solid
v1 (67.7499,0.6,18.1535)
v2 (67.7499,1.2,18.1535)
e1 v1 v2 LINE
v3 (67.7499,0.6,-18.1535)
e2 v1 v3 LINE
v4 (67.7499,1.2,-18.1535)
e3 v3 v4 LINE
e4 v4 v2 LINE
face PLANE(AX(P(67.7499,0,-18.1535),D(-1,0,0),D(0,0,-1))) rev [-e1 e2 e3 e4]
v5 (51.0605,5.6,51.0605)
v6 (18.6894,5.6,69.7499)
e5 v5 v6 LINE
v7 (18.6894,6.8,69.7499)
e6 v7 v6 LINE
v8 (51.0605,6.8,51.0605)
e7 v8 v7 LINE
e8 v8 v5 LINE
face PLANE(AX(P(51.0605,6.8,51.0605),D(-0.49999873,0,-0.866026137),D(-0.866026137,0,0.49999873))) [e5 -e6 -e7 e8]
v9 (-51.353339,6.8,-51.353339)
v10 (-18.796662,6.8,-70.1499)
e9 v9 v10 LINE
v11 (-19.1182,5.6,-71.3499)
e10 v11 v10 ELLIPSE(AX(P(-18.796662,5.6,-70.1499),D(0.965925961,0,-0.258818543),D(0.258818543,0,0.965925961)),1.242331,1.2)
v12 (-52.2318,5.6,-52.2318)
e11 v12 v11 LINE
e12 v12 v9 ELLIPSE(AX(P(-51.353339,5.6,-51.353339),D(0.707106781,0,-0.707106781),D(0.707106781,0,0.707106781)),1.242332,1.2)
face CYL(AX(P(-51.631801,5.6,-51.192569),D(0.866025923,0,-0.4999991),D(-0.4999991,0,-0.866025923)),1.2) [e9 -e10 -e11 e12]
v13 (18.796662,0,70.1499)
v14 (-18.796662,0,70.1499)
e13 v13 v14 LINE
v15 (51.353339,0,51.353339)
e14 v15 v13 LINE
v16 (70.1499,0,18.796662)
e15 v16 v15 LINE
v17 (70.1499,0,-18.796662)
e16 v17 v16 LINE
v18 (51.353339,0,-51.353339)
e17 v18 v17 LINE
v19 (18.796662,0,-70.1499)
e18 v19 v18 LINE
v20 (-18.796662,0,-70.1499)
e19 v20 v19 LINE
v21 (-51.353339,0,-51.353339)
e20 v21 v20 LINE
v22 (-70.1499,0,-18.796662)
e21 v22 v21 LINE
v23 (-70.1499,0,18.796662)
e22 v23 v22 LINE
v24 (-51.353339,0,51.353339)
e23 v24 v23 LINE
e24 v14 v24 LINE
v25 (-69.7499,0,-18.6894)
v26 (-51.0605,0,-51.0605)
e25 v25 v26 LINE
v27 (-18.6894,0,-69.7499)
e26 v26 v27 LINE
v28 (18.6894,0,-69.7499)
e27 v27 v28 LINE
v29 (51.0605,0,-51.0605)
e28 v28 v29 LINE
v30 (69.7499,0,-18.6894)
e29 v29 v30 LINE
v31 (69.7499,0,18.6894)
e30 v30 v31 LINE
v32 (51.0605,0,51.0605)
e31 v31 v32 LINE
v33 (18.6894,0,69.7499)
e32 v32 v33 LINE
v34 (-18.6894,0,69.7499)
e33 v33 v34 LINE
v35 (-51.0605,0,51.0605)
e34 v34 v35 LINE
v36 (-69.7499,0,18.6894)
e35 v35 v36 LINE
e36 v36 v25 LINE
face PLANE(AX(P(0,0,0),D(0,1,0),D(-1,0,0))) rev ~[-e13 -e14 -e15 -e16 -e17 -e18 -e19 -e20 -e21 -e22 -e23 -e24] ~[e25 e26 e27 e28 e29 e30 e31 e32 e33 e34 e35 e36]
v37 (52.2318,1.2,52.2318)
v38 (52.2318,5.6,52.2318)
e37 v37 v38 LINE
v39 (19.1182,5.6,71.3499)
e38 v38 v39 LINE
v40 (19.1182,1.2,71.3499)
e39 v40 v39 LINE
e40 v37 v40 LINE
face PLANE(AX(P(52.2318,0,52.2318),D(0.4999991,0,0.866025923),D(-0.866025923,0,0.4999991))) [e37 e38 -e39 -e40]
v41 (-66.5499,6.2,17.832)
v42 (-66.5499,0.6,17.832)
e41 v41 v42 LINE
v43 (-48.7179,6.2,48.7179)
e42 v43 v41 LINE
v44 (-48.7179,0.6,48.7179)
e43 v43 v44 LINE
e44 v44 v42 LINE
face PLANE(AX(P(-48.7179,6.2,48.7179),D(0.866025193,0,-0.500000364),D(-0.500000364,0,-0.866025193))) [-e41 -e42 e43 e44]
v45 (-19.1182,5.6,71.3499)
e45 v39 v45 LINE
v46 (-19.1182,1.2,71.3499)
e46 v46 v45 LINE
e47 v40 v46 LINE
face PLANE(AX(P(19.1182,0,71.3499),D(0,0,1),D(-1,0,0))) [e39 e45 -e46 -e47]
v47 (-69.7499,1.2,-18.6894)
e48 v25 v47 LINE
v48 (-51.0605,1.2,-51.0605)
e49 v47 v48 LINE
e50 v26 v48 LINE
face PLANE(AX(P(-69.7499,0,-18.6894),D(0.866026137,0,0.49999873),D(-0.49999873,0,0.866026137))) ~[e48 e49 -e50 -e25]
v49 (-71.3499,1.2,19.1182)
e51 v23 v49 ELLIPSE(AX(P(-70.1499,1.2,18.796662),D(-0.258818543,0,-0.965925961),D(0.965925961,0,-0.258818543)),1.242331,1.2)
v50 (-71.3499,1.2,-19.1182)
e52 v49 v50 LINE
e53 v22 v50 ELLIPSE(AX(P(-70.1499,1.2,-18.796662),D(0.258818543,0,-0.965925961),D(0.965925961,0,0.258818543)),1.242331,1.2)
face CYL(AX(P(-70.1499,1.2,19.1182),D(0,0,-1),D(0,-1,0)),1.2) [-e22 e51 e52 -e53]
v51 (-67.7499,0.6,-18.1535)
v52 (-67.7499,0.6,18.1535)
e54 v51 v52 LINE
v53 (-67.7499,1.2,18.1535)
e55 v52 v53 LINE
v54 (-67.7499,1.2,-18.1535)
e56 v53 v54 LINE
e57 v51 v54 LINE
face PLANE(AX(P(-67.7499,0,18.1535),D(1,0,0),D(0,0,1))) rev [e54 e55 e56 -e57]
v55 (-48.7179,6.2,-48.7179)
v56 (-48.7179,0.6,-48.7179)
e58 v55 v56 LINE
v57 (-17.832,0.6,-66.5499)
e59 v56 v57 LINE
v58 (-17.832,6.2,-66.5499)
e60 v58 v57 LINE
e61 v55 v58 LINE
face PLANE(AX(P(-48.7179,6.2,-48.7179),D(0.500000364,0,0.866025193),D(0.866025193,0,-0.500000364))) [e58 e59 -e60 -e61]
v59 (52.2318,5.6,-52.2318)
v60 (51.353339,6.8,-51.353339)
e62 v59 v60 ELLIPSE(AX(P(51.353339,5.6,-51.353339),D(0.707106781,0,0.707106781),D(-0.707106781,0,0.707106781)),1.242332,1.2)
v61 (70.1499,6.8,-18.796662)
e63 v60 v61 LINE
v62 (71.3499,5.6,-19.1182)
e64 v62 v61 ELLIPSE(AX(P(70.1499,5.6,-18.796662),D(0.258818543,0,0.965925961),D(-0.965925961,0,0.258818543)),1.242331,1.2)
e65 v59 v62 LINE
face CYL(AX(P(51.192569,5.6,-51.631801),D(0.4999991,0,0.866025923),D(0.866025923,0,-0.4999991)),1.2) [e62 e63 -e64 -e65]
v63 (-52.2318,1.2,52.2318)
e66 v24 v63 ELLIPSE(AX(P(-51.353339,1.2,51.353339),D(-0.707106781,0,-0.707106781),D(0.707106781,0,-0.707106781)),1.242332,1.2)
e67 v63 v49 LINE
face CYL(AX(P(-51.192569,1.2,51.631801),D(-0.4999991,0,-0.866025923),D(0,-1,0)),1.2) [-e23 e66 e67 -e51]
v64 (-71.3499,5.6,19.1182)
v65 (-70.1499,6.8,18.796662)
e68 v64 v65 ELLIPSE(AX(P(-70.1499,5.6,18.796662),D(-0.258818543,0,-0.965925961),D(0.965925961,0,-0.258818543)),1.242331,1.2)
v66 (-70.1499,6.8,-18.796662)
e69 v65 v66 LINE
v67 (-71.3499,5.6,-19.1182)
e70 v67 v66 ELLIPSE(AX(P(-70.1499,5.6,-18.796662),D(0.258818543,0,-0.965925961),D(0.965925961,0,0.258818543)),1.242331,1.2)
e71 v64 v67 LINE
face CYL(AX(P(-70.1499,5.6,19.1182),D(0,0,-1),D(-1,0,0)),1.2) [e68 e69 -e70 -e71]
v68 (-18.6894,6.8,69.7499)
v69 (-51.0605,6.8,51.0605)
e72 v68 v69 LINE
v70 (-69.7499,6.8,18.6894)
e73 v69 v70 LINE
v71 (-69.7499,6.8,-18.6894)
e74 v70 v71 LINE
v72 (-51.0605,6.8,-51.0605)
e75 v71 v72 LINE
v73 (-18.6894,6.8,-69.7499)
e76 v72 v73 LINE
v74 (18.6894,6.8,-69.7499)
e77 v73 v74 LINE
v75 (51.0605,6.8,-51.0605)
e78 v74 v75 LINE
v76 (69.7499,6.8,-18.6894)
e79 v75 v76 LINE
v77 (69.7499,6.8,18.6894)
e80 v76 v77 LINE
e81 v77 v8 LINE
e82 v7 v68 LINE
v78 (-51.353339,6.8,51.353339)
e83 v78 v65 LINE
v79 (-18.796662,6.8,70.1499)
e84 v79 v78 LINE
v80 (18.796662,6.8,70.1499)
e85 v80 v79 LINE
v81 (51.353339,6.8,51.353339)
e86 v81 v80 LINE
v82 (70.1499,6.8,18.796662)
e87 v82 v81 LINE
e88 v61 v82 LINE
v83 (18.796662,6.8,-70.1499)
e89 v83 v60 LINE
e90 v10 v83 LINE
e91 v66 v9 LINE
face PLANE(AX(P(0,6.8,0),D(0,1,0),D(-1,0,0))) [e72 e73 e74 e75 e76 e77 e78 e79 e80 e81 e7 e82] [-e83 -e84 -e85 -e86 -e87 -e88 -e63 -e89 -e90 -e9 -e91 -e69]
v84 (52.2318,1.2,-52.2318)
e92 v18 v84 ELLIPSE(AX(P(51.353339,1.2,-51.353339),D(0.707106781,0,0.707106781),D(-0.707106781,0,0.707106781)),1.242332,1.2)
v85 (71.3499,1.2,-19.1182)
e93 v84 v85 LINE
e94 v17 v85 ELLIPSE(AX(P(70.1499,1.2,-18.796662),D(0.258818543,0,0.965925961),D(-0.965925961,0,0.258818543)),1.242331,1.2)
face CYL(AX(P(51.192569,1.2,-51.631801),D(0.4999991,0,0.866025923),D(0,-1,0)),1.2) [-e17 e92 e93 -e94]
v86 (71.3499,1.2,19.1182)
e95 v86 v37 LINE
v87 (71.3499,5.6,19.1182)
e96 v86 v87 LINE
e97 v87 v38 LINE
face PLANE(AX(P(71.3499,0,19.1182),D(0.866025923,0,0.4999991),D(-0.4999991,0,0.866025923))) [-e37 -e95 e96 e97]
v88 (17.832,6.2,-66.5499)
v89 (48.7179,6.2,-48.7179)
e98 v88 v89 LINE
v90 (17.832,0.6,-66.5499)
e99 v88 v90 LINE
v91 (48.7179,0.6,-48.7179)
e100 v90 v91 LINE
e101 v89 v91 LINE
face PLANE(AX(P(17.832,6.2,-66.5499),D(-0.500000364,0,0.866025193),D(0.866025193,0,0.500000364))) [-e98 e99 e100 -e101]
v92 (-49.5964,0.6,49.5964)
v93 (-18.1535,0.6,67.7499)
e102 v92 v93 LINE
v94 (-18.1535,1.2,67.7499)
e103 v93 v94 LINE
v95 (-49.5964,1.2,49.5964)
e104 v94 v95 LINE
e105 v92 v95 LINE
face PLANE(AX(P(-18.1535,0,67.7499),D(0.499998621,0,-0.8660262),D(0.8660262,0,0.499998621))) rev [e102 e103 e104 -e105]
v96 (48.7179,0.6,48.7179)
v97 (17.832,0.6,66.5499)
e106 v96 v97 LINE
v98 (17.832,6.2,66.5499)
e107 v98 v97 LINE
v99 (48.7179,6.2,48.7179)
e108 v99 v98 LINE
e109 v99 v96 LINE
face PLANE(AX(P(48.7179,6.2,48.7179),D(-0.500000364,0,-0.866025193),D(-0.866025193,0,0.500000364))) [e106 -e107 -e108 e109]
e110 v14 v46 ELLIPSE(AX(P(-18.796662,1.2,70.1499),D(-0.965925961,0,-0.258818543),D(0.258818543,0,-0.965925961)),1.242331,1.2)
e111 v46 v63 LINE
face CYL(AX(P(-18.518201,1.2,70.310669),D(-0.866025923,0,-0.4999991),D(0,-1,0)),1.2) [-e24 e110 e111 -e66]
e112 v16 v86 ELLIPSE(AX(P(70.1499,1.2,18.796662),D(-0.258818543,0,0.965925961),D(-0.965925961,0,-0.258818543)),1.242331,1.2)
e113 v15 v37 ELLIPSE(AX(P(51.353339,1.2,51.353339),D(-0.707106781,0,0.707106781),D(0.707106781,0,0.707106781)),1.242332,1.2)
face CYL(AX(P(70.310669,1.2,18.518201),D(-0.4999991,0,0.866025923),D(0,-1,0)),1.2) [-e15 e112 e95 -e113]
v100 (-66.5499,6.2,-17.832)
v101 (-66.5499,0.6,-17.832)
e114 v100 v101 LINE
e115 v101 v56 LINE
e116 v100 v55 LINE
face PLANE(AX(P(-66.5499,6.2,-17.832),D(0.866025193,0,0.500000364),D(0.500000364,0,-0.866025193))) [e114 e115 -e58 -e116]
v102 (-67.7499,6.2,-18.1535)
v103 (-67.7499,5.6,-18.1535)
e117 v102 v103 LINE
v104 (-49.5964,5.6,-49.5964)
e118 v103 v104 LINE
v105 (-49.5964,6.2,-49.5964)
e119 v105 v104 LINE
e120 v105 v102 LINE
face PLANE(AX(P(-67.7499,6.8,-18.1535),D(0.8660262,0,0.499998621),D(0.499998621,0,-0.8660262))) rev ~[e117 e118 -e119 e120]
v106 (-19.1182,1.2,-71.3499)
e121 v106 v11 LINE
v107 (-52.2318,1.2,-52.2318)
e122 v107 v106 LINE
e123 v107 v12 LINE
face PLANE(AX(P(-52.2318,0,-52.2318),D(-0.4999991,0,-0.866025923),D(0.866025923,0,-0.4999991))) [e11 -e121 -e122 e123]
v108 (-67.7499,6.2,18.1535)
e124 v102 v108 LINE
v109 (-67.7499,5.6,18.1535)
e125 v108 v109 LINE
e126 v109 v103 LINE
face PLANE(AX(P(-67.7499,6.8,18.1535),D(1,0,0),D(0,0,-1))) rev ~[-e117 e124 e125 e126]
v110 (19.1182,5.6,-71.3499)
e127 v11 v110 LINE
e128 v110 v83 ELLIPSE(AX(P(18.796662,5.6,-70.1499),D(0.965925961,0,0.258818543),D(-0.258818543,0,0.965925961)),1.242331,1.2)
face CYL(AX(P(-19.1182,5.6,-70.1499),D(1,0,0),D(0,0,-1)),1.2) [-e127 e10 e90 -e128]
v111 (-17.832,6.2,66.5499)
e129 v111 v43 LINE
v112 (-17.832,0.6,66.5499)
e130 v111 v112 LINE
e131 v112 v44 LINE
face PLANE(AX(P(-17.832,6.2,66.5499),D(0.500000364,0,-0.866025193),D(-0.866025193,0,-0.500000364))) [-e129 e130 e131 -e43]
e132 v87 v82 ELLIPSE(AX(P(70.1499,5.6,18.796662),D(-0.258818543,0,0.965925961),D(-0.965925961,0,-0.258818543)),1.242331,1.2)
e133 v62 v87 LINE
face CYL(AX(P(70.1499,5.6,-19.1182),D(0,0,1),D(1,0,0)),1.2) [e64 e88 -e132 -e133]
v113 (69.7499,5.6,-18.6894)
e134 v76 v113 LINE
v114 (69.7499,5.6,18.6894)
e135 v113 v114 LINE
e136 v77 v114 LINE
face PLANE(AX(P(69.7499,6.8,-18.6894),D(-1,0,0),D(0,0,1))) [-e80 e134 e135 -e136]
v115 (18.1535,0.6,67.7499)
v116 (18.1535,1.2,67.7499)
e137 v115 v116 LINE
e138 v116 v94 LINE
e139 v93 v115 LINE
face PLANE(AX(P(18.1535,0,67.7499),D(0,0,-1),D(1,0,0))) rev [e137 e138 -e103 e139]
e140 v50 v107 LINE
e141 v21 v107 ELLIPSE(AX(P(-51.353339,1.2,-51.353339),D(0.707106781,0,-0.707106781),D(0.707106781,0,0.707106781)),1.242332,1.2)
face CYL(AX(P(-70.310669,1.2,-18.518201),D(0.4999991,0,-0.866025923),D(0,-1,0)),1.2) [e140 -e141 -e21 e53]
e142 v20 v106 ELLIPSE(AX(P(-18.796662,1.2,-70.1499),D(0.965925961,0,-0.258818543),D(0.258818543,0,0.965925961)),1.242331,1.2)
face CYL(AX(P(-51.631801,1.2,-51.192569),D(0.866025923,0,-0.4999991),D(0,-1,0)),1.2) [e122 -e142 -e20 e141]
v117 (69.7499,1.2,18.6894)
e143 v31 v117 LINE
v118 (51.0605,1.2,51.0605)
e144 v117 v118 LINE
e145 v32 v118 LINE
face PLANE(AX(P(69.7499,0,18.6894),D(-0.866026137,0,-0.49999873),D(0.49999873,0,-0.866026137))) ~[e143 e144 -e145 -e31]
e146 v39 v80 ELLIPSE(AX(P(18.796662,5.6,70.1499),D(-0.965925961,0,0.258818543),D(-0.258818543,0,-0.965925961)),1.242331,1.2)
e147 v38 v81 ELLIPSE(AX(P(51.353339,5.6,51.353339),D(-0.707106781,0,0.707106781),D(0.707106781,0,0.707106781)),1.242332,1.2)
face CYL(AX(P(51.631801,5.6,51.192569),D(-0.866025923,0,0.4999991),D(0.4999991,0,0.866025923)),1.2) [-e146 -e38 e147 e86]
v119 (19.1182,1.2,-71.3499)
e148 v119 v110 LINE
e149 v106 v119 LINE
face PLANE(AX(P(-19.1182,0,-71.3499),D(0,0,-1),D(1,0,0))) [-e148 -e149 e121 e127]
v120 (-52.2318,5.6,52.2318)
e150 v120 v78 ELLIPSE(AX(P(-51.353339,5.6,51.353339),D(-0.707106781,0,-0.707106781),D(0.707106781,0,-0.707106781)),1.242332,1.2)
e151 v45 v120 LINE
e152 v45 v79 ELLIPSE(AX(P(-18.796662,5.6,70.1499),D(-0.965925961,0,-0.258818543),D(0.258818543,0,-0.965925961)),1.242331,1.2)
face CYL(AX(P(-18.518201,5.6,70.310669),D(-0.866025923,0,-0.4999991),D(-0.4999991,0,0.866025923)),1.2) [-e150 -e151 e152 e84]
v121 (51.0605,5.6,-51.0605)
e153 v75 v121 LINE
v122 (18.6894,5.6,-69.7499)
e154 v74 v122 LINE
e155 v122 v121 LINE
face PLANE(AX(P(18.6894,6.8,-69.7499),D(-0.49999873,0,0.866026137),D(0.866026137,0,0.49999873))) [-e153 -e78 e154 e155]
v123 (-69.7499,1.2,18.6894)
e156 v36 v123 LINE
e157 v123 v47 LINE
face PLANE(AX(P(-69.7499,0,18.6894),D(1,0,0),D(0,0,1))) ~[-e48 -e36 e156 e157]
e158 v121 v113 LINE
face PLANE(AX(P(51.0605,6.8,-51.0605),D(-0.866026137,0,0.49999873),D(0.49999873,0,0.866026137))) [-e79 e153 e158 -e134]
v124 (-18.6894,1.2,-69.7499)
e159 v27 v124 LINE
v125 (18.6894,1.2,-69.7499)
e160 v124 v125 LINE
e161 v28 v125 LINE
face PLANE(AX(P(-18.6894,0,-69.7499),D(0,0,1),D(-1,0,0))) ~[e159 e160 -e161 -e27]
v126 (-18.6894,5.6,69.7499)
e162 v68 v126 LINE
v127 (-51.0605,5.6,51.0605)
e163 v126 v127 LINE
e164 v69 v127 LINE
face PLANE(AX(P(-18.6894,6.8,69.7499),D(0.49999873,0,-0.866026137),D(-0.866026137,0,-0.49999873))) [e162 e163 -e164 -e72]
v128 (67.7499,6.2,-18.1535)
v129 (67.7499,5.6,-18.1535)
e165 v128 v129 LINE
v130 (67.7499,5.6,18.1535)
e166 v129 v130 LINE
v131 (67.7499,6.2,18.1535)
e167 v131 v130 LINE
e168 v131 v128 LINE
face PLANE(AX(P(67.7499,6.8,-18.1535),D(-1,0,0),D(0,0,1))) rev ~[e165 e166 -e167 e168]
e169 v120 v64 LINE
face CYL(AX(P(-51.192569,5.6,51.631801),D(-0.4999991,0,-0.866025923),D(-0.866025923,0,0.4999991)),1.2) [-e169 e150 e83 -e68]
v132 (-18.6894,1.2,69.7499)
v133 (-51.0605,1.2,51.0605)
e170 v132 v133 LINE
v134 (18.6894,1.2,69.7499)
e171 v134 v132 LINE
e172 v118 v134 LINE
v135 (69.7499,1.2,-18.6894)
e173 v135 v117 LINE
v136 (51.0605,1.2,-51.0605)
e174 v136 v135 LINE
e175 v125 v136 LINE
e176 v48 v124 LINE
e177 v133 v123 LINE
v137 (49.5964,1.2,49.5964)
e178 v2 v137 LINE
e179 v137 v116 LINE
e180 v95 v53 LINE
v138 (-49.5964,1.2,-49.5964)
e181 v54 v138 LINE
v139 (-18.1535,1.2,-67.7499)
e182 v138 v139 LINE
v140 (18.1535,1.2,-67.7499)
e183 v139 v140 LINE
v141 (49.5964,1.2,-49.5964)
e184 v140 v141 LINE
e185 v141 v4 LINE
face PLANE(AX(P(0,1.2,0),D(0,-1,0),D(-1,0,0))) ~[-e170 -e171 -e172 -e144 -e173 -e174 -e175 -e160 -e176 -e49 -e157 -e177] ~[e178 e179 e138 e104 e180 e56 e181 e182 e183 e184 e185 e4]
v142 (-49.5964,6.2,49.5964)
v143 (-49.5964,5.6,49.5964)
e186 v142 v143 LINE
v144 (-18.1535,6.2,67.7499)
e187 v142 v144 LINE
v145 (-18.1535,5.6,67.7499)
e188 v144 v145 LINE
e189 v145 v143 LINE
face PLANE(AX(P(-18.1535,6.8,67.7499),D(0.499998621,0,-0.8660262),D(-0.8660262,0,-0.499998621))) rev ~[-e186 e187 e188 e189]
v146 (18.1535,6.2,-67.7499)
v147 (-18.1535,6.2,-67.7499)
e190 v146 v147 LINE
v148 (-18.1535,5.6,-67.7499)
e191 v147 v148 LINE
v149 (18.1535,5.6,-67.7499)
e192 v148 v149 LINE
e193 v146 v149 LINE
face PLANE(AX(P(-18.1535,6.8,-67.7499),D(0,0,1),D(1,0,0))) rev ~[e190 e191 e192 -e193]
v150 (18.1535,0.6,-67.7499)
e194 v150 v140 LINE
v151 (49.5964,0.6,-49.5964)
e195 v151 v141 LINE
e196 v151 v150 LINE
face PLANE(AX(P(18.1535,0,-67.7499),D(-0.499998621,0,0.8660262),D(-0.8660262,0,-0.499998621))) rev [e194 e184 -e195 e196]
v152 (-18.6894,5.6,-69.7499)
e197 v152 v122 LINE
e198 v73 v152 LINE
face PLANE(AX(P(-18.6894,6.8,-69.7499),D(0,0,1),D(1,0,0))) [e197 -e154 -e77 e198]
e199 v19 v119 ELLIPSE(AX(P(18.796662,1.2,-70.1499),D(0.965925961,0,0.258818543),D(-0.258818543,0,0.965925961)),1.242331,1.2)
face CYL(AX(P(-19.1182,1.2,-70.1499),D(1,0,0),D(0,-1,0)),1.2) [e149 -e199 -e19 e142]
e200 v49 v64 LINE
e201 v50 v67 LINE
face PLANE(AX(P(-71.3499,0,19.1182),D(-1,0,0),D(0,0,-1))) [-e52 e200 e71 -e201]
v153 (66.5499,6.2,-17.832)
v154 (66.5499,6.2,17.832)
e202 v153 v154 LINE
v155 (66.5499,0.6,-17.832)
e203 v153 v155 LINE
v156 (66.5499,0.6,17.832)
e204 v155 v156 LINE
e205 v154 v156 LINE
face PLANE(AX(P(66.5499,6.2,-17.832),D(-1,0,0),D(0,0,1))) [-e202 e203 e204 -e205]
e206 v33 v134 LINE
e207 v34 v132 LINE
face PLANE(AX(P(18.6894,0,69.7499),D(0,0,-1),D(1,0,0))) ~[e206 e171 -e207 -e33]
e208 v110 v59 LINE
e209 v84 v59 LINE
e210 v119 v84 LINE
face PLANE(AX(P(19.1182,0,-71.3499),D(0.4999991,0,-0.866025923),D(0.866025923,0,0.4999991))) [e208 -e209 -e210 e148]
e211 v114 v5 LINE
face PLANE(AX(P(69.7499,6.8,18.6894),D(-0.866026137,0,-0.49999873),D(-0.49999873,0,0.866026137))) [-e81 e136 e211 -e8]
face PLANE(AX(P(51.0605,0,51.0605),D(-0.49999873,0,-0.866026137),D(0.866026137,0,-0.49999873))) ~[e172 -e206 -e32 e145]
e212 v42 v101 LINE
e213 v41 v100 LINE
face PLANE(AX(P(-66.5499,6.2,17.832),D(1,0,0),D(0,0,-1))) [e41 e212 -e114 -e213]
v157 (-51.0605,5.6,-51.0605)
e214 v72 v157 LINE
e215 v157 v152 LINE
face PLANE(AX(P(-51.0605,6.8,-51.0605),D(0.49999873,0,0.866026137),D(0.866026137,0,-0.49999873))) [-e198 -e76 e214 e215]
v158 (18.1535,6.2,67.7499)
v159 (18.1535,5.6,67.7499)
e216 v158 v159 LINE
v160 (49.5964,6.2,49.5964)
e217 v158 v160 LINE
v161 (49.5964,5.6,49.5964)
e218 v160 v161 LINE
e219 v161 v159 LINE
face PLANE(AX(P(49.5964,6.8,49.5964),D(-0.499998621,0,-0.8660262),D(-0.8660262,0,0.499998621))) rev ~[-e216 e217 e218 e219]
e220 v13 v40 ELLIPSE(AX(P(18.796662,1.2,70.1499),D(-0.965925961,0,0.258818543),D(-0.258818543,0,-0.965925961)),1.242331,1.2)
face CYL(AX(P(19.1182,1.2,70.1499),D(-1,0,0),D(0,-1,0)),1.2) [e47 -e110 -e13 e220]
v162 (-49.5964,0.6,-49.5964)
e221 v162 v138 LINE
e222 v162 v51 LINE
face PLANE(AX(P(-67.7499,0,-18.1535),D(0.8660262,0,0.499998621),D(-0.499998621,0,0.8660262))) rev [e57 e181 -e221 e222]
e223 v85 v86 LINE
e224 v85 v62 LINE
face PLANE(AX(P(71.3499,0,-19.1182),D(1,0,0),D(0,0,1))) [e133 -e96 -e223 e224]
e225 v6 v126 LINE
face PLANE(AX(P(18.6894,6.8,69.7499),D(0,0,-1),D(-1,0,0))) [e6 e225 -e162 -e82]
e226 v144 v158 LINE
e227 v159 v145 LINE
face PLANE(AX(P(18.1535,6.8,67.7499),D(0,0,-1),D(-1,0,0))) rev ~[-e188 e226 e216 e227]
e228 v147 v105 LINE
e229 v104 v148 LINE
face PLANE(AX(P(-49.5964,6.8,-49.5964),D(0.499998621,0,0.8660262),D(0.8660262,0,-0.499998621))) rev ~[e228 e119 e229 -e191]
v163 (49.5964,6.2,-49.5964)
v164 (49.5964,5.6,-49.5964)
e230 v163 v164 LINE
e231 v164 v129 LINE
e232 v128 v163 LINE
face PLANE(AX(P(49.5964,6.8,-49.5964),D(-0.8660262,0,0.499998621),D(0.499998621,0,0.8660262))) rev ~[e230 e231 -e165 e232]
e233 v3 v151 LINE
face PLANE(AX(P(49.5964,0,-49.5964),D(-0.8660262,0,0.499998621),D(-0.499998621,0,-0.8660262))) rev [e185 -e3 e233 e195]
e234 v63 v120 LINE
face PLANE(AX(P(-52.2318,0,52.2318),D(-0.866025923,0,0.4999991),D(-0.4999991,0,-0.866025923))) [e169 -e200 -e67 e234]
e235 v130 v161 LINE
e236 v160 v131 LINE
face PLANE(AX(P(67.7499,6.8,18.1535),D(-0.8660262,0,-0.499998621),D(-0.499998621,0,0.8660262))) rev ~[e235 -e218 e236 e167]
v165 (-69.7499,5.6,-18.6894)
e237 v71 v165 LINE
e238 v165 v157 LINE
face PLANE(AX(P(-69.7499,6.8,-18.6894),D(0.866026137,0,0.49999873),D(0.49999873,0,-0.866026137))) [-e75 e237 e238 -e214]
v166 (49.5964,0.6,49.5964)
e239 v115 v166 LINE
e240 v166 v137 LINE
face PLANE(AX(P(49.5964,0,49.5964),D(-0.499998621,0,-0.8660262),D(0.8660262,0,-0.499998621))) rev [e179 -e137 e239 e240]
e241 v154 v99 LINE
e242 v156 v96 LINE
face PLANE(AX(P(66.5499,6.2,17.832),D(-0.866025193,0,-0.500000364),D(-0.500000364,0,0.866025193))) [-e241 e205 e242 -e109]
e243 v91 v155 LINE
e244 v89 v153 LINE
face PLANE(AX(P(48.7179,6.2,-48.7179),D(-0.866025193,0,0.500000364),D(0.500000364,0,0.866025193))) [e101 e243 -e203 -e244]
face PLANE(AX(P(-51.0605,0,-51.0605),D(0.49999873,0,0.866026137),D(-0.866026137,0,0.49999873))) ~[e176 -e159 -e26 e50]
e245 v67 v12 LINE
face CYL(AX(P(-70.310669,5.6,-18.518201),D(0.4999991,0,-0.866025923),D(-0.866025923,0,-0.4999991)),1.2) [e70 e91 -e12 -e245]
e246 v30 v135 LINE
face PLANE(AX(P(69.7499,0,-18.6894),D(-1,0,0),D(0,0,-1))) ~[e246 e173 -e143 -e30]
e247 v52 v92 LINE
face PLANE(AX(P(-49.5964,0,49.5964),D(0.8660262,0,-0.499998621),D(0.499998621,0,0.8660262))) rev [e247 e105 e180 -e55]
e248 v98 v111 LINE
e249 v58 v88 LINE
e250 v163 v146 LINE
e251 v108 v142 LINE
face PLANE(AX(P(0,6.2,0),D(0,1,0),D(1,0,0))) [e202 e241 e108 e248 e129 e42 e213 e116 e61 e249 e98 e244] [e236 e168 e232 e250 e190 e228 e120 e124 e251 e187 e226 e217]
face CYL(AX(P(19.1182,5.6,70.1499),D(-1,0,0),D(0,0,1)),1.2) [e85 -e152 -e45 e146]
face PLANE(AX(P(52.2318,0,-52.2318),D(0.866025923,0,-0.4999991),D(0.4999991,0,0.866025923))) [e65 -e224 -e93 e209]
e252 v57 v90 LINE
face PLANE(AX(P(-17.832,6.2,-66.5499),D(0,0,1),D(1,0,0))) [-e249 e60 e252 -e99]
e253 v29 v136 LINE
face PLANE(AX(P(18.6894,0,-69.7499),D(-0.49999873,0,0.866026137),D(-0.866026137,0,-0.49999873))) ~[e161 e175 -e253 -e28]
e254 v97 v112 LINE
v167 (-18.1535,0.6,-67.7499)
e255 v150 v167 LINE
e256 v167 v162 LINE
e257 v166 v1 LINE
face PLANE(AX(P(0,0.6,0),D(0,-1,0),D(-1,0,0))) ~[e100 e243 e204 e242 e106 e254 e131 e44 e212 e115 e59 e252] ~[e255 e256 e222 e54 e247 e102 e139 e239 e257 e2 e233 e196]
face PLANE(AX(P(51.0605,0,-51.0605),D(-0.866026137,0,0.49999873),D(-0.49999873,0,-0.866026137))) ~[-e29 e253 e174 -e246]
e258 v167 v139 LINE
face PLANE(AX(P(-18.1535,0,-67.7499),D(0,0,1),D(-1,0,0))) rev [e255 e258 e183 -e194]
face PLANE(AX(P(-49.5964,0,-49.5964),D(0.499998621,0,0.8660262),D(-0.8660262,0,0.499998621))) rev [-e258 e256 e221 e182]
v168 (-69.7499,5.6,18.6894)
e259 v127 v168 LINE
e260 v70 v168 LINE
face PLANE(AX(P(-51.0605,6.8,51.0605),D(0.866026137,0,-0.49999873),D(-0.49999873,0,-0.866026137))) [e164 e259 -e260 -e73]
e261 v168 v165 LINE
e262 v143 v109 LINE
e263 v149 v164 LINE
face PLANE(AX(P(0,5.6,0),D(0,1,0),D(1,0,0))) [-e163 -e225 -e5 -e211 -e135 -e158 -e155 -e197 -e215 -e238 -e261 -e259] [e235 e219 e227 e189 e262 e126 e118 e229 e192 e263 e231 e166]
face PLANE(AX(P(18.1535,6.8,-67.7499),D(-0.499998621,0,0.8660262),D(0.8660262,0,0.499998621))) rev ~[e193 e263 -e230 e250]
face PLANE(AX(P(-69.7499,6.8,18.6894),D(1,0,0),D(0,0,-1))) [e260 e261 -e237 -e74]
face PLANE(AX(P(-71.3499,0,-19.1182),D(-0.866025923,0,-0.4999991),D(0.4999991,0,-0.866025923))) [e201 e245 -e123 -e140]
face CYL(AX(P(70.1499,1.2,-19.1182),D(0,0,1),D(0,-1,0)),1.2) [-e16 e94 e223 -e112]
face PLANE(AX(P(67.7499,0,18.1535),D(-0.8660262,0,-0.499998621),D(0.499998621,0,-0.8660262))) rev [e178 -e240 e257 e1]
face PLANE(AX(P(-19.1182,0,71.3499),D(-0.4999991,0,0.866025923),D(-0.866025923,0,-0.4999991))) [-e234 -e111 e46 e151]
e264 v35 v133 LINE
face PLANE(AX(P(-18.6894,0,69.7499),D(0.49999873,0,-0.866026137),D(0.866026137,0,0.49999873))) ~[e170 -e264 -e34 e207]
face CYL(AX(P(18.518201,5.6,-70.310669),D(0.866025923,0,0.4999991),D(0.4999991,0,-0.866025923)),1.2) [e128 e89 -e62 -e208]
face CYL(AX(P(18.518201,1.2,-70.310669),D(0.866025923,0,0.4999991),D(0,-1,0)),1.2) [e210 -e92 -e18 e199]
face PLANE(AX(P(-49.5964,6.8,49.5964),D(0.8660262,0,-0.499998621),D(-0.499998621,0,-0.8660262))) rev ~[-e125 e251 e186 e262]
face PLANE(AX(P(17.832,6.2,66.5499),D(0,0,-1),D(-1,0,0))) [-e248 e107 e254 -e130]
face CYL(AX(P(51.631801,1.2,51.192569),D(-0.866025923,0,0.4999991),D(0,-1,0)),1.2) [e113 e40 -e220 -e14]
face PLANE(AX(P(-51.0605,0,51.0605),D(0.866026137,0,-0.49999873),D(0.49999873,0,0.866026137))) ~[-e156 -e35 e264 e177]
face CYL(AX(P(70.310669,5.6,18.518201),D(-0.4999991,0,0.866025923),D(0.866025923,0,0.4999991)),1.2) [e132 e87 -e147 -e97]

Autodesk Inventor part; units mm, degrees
ref_plane "YZ Plane" through (0, 0, 0) normal (1, 0, 0) x (0, 1, 0)
ref_plane "XZ Plane" through (0, 0, 0) normal (0, 1, 0) x (-1, 0, 0)
sketch "스케치1" plane through (0, 0, 0) normal (0, 1, 0) x (-1, 0, 0)
  line L0 (-49.8892, 49.8892) -> (-18.2607, 68.1499)
  line L1 (-18.2607, 68.1499) -> (18.2607, 68.1499)
  line L2 (18.2607, 68.1499) -> (49.8892, 49.8892)
  line L3 (49.8892, 49.8892) -> (68.1499, 18.2607)
  line L4 (68.1499, 18.2607) -> (68.1499, -18.2607)
  line L5 (68.1499, -18.2607) -> (49.8892, -49.8892)
  line L6 (49.8892, -49.8892) -> (18.2607, -68.1499)
  line L7 (18.2607, -68.1499) -> (-18.2607, -68.1499)
  line L8 (-18.2607, -68.1499) -> (-49.8892, -49.8892)
  line L9 (-49.8892, -49.8892) -> (-68.1499, -18.2607)
  line L10 (-68.1499, -18.2607) -> (-68.1499, 18.2607)
  line L11 (-68.1499, 18.2607) -> (-49.8892, 49.8892)
  line L12 (71.3499, -19.1182) -> (52.2318, -52.2318)
  line L13 (52.2318, -52.2318) -> (19.1182, -71.3499)
  line L14 (19.1182, -71.3499) -> (-19.1182, -71.3499)
  line L15 (-19.1182, -71.3499) -> (-52.2318, -52.2318)
  line L16 (-52.2318, -52.2318) -> (-71.3499, -19.1182)
  line L17 (-71.3499, -19.1182) -> (-71.3499, 19.1182)
  line L18 (-71.3499, 19.1182) -> (-52.2318, 52.2318)
  line L19 (-52.2318, 52.2318) -> (-19.1182, 71.3499)
  line L20 (-19.1182, 71.3499) -> (19.1182, 71.3499)
  line L21 (19.1182, 71.3499) -> (52.2318, 52.2318)
  line L22 (52.2318, 52.2318) -> (71.3499, 19.1182)
  line L23 (71.3499, 19.1182) -> (71.3499, -19.1182)
  point P0 (0, 0)
  point P1 (0, 0)
  point P2 (0, 0)
  dimension "d0" = 141.108
  dimension "d1" = 3.2
extrude "돌출1" add sketch "스케치1" along normal blind 6.8 contours L0 L1 L2 L3 L4 L5 L6 L7 L8 L9 L10 L11 | L12 L13 L14 L15 L16 L17 L18 L19 L20 L21 L22 L23
sketch "스케치2" plane through (0, 6.8, 0) normal (0, 1, 0) x (1, 0, 0)
  line L0 (-18.6894, 69.7499) -> (18.6894, 69.7499)
  line L1 (18.6894, 69.7499) -> (51.0605, 51.0605)
  line L2 (51.0605, 51.0605) -> (69.7499, 18.6894)
  line L3 (69.7499, 18.6894) -> (69.7499, -18.6894)
  line L4 (69.7499, -18.6894) -> (51.0605, -51.0605)
  line L5 (51.0605, -51.0605) -> (18.6894, -69.7499)
  line L6 (18.6894, -69.7499) -> (-18.6894, -69.7499)
  line L7 (-18.6894, -69.7499) -> (-51.0605, -51.0605)
  line L8 (-51.0605, -51.0605) -> (-69.7499, -18.6894)
  line L9 (-69.7499, -18.6894) -> (-69.7499, 18.6894)
  line L10 (-69.7499, 18.6894) -> (-51.0605, 51.0605)
  line L11 (-51.0605, 51.0605) -> (-18.6894, 69.7499)
  line L12 (-71.3499, 19.1182) -> (-71.3499, -19.1182) projected
  line L13 (18.1535, -67.7499) -> (-18.1535, -67.7499)
  line L14 (-18.1535, -67.7499) -> (-49.5964, -49.5964)
  line L15 (-49.5964, -49.5964) -> (-67.7499, -18.1535)
  line L16 (-67.7499, -18.1535) -> (-67.7499, 18.1535)
  line L17 (-67.7499, 18.1535) -> (-49.5964, 49.5964)
  line L18 (-49.5964, 49.5964) -> (-18.1535, 67.7499)
  line L19 (-18.1535, 67.7499) -> (18.1535, 67.7499)
  line L20 (18.1535, 67.7499) -> (49.5964, 49.5964)
  line L21 (49.5964, 49.5964) -> (67.7499, 18.1535)
  line L22 (67.7499, 18.1535) -> (67.7499, -18.1535)
  line L23 (67.7499, -18.1535) -> (49.5964, -49.5964)
  line L24 (49.5964, -49.5964) -> (18.1535, -67.7499)
  point P0 (0, 0)
  point P1 (0, 0)
  point P2 (0, 0)
  dimension "d4" = 1.6
  dimension "d5" = 2
extrude "돌출2" cut sketch "스케치2" against normal blind 1.2
sketch "스케치5" plane through (0, 6.8, 0) normal (0, 1, 0) x (1, 0, 0)
  line L0 (-49.5964, -49.5964) -> (-18.1535, -67.7499) projected
  line L1 (-18.1535, -67.7499) -> (18.1535, -67.7499) projected
  line L2 (18.1535, -67.7499) -> (49.5964, -49.5964) projected
  line L3 (49.5964, -49.5964) -> (67.7499, -18.1535) projected
  line L4 (67.7499, -18.1535) -> (67.7499, 18.1535) projected
  line L5 (67.7499, 18.1535) -> (49.5964, 49.5964) projected
  line L6 (49.5964, 49.5964) -> (18.1535, 67.7499) projected
  line L7 (18.1535, 67.7499) -> (-18.1535, 67.7499) projected
  line L8 (-18.1535, 67.7499) -> (-49.5964, 49.5964) projected
  line L9 (-49.5964, 49.5964) -> (-67.7499, 18.1535) projected
  line L10 (-67.7499, 18.1535) -> (-67.7499, -18.1535) projected
  line L11 (-67.7499, -18.1535) -> (-49.5964, -49.5964) projected
  point P0 (0, 0)
extrude "돌출5" cut sketch "스케치5" against normal blind 0.6
fillet "모깎기1" radius 1.2 24 edges at (61.7909, 0, 35.675) (61.7909, 6.8, 35.675) (71.3499, 6.8, 0) (71.3499, 0, 0) (61.7909, 6.8, -35.675) (61.7909, 0, -35.675) (35.675, 6.8, -61.7909) (35.675, 0, -61.7909) (0, 0, -71.3499) (0, 6.8, -71.3499) (-35.675, 6.8, -61.7909) (-35.675, 0, -61.7909) (-61.7909, 0, -35.675) (-61.7909, 6.8, -35.675) (-71.3499, 0, 0) (-71.3499, 6.8, 0) (-61.7909, 0, 35.675) (-61.7909, 6.8, 35.675) (-35.675, 0, 61.7909) (-35.675, 6.8, 61.7909) (0, 0, 71.3499) (0, 6.8, 71.3499) (35.675, 0, 61.7909) (35.675, 6.8, 61.7909)
ref_plane "작업 평면1" through (0, 3.4, 0) normal (0, -1, 0) x (1, 0, 0)
mirror "미러1" about plane through (0, 3.4, 0) normal (0, -1, 0) of "돌출5", "돌출2"
sketch "스케치9" plane through (0, 6.2, 0) normal (0, 1, 0) x (1, 0, 0)
  line L0 (-17.832, -66.5499) -> (-48.7179, -48.7179)
  line L1 (-48.7179, -48.7179) -> (-66.5499, -17.832)
  line L2 (-66.5499, -17.832) -> (-66.5499, 17.832)
  line L3 (-66.5499, 17.832) -> (-48.7179, 48.7179)
  line L4 (-48.7179, 48.7179) -> (-17.832, 66.5499)
  line L5 (-17.832, 66.5499) -> (17.832, 66.5499)
  line L6 (17.832, 66.5499) -> (48.7179, 48.7179)
  line L7 (48.7179, 48.7179) -> (66.5499, 17.832)
  line L8 (66.5499, 17.832) -> (66.5499, -17.832)
  line L9 (66.5499, -17.832) -> (48.7179, -48.7179)
  line L10 (48.7179, -48.7179) -> (17.832, -66.5499)
  line L11 (17.832, -66.5499) -> (-17.832, -66.5499)
  line L12 (18.1535, -67.7499) -> (-18.1535, -67.7499) projected
  point P0 (0, 0)
  point P1 (0, 0)
  dimension "d37" = 1.2
extrude "돌출9" cut sketch "스케치9" against normal blind 10
properties part number "(x2)_POSPA_Large_Bottom"
